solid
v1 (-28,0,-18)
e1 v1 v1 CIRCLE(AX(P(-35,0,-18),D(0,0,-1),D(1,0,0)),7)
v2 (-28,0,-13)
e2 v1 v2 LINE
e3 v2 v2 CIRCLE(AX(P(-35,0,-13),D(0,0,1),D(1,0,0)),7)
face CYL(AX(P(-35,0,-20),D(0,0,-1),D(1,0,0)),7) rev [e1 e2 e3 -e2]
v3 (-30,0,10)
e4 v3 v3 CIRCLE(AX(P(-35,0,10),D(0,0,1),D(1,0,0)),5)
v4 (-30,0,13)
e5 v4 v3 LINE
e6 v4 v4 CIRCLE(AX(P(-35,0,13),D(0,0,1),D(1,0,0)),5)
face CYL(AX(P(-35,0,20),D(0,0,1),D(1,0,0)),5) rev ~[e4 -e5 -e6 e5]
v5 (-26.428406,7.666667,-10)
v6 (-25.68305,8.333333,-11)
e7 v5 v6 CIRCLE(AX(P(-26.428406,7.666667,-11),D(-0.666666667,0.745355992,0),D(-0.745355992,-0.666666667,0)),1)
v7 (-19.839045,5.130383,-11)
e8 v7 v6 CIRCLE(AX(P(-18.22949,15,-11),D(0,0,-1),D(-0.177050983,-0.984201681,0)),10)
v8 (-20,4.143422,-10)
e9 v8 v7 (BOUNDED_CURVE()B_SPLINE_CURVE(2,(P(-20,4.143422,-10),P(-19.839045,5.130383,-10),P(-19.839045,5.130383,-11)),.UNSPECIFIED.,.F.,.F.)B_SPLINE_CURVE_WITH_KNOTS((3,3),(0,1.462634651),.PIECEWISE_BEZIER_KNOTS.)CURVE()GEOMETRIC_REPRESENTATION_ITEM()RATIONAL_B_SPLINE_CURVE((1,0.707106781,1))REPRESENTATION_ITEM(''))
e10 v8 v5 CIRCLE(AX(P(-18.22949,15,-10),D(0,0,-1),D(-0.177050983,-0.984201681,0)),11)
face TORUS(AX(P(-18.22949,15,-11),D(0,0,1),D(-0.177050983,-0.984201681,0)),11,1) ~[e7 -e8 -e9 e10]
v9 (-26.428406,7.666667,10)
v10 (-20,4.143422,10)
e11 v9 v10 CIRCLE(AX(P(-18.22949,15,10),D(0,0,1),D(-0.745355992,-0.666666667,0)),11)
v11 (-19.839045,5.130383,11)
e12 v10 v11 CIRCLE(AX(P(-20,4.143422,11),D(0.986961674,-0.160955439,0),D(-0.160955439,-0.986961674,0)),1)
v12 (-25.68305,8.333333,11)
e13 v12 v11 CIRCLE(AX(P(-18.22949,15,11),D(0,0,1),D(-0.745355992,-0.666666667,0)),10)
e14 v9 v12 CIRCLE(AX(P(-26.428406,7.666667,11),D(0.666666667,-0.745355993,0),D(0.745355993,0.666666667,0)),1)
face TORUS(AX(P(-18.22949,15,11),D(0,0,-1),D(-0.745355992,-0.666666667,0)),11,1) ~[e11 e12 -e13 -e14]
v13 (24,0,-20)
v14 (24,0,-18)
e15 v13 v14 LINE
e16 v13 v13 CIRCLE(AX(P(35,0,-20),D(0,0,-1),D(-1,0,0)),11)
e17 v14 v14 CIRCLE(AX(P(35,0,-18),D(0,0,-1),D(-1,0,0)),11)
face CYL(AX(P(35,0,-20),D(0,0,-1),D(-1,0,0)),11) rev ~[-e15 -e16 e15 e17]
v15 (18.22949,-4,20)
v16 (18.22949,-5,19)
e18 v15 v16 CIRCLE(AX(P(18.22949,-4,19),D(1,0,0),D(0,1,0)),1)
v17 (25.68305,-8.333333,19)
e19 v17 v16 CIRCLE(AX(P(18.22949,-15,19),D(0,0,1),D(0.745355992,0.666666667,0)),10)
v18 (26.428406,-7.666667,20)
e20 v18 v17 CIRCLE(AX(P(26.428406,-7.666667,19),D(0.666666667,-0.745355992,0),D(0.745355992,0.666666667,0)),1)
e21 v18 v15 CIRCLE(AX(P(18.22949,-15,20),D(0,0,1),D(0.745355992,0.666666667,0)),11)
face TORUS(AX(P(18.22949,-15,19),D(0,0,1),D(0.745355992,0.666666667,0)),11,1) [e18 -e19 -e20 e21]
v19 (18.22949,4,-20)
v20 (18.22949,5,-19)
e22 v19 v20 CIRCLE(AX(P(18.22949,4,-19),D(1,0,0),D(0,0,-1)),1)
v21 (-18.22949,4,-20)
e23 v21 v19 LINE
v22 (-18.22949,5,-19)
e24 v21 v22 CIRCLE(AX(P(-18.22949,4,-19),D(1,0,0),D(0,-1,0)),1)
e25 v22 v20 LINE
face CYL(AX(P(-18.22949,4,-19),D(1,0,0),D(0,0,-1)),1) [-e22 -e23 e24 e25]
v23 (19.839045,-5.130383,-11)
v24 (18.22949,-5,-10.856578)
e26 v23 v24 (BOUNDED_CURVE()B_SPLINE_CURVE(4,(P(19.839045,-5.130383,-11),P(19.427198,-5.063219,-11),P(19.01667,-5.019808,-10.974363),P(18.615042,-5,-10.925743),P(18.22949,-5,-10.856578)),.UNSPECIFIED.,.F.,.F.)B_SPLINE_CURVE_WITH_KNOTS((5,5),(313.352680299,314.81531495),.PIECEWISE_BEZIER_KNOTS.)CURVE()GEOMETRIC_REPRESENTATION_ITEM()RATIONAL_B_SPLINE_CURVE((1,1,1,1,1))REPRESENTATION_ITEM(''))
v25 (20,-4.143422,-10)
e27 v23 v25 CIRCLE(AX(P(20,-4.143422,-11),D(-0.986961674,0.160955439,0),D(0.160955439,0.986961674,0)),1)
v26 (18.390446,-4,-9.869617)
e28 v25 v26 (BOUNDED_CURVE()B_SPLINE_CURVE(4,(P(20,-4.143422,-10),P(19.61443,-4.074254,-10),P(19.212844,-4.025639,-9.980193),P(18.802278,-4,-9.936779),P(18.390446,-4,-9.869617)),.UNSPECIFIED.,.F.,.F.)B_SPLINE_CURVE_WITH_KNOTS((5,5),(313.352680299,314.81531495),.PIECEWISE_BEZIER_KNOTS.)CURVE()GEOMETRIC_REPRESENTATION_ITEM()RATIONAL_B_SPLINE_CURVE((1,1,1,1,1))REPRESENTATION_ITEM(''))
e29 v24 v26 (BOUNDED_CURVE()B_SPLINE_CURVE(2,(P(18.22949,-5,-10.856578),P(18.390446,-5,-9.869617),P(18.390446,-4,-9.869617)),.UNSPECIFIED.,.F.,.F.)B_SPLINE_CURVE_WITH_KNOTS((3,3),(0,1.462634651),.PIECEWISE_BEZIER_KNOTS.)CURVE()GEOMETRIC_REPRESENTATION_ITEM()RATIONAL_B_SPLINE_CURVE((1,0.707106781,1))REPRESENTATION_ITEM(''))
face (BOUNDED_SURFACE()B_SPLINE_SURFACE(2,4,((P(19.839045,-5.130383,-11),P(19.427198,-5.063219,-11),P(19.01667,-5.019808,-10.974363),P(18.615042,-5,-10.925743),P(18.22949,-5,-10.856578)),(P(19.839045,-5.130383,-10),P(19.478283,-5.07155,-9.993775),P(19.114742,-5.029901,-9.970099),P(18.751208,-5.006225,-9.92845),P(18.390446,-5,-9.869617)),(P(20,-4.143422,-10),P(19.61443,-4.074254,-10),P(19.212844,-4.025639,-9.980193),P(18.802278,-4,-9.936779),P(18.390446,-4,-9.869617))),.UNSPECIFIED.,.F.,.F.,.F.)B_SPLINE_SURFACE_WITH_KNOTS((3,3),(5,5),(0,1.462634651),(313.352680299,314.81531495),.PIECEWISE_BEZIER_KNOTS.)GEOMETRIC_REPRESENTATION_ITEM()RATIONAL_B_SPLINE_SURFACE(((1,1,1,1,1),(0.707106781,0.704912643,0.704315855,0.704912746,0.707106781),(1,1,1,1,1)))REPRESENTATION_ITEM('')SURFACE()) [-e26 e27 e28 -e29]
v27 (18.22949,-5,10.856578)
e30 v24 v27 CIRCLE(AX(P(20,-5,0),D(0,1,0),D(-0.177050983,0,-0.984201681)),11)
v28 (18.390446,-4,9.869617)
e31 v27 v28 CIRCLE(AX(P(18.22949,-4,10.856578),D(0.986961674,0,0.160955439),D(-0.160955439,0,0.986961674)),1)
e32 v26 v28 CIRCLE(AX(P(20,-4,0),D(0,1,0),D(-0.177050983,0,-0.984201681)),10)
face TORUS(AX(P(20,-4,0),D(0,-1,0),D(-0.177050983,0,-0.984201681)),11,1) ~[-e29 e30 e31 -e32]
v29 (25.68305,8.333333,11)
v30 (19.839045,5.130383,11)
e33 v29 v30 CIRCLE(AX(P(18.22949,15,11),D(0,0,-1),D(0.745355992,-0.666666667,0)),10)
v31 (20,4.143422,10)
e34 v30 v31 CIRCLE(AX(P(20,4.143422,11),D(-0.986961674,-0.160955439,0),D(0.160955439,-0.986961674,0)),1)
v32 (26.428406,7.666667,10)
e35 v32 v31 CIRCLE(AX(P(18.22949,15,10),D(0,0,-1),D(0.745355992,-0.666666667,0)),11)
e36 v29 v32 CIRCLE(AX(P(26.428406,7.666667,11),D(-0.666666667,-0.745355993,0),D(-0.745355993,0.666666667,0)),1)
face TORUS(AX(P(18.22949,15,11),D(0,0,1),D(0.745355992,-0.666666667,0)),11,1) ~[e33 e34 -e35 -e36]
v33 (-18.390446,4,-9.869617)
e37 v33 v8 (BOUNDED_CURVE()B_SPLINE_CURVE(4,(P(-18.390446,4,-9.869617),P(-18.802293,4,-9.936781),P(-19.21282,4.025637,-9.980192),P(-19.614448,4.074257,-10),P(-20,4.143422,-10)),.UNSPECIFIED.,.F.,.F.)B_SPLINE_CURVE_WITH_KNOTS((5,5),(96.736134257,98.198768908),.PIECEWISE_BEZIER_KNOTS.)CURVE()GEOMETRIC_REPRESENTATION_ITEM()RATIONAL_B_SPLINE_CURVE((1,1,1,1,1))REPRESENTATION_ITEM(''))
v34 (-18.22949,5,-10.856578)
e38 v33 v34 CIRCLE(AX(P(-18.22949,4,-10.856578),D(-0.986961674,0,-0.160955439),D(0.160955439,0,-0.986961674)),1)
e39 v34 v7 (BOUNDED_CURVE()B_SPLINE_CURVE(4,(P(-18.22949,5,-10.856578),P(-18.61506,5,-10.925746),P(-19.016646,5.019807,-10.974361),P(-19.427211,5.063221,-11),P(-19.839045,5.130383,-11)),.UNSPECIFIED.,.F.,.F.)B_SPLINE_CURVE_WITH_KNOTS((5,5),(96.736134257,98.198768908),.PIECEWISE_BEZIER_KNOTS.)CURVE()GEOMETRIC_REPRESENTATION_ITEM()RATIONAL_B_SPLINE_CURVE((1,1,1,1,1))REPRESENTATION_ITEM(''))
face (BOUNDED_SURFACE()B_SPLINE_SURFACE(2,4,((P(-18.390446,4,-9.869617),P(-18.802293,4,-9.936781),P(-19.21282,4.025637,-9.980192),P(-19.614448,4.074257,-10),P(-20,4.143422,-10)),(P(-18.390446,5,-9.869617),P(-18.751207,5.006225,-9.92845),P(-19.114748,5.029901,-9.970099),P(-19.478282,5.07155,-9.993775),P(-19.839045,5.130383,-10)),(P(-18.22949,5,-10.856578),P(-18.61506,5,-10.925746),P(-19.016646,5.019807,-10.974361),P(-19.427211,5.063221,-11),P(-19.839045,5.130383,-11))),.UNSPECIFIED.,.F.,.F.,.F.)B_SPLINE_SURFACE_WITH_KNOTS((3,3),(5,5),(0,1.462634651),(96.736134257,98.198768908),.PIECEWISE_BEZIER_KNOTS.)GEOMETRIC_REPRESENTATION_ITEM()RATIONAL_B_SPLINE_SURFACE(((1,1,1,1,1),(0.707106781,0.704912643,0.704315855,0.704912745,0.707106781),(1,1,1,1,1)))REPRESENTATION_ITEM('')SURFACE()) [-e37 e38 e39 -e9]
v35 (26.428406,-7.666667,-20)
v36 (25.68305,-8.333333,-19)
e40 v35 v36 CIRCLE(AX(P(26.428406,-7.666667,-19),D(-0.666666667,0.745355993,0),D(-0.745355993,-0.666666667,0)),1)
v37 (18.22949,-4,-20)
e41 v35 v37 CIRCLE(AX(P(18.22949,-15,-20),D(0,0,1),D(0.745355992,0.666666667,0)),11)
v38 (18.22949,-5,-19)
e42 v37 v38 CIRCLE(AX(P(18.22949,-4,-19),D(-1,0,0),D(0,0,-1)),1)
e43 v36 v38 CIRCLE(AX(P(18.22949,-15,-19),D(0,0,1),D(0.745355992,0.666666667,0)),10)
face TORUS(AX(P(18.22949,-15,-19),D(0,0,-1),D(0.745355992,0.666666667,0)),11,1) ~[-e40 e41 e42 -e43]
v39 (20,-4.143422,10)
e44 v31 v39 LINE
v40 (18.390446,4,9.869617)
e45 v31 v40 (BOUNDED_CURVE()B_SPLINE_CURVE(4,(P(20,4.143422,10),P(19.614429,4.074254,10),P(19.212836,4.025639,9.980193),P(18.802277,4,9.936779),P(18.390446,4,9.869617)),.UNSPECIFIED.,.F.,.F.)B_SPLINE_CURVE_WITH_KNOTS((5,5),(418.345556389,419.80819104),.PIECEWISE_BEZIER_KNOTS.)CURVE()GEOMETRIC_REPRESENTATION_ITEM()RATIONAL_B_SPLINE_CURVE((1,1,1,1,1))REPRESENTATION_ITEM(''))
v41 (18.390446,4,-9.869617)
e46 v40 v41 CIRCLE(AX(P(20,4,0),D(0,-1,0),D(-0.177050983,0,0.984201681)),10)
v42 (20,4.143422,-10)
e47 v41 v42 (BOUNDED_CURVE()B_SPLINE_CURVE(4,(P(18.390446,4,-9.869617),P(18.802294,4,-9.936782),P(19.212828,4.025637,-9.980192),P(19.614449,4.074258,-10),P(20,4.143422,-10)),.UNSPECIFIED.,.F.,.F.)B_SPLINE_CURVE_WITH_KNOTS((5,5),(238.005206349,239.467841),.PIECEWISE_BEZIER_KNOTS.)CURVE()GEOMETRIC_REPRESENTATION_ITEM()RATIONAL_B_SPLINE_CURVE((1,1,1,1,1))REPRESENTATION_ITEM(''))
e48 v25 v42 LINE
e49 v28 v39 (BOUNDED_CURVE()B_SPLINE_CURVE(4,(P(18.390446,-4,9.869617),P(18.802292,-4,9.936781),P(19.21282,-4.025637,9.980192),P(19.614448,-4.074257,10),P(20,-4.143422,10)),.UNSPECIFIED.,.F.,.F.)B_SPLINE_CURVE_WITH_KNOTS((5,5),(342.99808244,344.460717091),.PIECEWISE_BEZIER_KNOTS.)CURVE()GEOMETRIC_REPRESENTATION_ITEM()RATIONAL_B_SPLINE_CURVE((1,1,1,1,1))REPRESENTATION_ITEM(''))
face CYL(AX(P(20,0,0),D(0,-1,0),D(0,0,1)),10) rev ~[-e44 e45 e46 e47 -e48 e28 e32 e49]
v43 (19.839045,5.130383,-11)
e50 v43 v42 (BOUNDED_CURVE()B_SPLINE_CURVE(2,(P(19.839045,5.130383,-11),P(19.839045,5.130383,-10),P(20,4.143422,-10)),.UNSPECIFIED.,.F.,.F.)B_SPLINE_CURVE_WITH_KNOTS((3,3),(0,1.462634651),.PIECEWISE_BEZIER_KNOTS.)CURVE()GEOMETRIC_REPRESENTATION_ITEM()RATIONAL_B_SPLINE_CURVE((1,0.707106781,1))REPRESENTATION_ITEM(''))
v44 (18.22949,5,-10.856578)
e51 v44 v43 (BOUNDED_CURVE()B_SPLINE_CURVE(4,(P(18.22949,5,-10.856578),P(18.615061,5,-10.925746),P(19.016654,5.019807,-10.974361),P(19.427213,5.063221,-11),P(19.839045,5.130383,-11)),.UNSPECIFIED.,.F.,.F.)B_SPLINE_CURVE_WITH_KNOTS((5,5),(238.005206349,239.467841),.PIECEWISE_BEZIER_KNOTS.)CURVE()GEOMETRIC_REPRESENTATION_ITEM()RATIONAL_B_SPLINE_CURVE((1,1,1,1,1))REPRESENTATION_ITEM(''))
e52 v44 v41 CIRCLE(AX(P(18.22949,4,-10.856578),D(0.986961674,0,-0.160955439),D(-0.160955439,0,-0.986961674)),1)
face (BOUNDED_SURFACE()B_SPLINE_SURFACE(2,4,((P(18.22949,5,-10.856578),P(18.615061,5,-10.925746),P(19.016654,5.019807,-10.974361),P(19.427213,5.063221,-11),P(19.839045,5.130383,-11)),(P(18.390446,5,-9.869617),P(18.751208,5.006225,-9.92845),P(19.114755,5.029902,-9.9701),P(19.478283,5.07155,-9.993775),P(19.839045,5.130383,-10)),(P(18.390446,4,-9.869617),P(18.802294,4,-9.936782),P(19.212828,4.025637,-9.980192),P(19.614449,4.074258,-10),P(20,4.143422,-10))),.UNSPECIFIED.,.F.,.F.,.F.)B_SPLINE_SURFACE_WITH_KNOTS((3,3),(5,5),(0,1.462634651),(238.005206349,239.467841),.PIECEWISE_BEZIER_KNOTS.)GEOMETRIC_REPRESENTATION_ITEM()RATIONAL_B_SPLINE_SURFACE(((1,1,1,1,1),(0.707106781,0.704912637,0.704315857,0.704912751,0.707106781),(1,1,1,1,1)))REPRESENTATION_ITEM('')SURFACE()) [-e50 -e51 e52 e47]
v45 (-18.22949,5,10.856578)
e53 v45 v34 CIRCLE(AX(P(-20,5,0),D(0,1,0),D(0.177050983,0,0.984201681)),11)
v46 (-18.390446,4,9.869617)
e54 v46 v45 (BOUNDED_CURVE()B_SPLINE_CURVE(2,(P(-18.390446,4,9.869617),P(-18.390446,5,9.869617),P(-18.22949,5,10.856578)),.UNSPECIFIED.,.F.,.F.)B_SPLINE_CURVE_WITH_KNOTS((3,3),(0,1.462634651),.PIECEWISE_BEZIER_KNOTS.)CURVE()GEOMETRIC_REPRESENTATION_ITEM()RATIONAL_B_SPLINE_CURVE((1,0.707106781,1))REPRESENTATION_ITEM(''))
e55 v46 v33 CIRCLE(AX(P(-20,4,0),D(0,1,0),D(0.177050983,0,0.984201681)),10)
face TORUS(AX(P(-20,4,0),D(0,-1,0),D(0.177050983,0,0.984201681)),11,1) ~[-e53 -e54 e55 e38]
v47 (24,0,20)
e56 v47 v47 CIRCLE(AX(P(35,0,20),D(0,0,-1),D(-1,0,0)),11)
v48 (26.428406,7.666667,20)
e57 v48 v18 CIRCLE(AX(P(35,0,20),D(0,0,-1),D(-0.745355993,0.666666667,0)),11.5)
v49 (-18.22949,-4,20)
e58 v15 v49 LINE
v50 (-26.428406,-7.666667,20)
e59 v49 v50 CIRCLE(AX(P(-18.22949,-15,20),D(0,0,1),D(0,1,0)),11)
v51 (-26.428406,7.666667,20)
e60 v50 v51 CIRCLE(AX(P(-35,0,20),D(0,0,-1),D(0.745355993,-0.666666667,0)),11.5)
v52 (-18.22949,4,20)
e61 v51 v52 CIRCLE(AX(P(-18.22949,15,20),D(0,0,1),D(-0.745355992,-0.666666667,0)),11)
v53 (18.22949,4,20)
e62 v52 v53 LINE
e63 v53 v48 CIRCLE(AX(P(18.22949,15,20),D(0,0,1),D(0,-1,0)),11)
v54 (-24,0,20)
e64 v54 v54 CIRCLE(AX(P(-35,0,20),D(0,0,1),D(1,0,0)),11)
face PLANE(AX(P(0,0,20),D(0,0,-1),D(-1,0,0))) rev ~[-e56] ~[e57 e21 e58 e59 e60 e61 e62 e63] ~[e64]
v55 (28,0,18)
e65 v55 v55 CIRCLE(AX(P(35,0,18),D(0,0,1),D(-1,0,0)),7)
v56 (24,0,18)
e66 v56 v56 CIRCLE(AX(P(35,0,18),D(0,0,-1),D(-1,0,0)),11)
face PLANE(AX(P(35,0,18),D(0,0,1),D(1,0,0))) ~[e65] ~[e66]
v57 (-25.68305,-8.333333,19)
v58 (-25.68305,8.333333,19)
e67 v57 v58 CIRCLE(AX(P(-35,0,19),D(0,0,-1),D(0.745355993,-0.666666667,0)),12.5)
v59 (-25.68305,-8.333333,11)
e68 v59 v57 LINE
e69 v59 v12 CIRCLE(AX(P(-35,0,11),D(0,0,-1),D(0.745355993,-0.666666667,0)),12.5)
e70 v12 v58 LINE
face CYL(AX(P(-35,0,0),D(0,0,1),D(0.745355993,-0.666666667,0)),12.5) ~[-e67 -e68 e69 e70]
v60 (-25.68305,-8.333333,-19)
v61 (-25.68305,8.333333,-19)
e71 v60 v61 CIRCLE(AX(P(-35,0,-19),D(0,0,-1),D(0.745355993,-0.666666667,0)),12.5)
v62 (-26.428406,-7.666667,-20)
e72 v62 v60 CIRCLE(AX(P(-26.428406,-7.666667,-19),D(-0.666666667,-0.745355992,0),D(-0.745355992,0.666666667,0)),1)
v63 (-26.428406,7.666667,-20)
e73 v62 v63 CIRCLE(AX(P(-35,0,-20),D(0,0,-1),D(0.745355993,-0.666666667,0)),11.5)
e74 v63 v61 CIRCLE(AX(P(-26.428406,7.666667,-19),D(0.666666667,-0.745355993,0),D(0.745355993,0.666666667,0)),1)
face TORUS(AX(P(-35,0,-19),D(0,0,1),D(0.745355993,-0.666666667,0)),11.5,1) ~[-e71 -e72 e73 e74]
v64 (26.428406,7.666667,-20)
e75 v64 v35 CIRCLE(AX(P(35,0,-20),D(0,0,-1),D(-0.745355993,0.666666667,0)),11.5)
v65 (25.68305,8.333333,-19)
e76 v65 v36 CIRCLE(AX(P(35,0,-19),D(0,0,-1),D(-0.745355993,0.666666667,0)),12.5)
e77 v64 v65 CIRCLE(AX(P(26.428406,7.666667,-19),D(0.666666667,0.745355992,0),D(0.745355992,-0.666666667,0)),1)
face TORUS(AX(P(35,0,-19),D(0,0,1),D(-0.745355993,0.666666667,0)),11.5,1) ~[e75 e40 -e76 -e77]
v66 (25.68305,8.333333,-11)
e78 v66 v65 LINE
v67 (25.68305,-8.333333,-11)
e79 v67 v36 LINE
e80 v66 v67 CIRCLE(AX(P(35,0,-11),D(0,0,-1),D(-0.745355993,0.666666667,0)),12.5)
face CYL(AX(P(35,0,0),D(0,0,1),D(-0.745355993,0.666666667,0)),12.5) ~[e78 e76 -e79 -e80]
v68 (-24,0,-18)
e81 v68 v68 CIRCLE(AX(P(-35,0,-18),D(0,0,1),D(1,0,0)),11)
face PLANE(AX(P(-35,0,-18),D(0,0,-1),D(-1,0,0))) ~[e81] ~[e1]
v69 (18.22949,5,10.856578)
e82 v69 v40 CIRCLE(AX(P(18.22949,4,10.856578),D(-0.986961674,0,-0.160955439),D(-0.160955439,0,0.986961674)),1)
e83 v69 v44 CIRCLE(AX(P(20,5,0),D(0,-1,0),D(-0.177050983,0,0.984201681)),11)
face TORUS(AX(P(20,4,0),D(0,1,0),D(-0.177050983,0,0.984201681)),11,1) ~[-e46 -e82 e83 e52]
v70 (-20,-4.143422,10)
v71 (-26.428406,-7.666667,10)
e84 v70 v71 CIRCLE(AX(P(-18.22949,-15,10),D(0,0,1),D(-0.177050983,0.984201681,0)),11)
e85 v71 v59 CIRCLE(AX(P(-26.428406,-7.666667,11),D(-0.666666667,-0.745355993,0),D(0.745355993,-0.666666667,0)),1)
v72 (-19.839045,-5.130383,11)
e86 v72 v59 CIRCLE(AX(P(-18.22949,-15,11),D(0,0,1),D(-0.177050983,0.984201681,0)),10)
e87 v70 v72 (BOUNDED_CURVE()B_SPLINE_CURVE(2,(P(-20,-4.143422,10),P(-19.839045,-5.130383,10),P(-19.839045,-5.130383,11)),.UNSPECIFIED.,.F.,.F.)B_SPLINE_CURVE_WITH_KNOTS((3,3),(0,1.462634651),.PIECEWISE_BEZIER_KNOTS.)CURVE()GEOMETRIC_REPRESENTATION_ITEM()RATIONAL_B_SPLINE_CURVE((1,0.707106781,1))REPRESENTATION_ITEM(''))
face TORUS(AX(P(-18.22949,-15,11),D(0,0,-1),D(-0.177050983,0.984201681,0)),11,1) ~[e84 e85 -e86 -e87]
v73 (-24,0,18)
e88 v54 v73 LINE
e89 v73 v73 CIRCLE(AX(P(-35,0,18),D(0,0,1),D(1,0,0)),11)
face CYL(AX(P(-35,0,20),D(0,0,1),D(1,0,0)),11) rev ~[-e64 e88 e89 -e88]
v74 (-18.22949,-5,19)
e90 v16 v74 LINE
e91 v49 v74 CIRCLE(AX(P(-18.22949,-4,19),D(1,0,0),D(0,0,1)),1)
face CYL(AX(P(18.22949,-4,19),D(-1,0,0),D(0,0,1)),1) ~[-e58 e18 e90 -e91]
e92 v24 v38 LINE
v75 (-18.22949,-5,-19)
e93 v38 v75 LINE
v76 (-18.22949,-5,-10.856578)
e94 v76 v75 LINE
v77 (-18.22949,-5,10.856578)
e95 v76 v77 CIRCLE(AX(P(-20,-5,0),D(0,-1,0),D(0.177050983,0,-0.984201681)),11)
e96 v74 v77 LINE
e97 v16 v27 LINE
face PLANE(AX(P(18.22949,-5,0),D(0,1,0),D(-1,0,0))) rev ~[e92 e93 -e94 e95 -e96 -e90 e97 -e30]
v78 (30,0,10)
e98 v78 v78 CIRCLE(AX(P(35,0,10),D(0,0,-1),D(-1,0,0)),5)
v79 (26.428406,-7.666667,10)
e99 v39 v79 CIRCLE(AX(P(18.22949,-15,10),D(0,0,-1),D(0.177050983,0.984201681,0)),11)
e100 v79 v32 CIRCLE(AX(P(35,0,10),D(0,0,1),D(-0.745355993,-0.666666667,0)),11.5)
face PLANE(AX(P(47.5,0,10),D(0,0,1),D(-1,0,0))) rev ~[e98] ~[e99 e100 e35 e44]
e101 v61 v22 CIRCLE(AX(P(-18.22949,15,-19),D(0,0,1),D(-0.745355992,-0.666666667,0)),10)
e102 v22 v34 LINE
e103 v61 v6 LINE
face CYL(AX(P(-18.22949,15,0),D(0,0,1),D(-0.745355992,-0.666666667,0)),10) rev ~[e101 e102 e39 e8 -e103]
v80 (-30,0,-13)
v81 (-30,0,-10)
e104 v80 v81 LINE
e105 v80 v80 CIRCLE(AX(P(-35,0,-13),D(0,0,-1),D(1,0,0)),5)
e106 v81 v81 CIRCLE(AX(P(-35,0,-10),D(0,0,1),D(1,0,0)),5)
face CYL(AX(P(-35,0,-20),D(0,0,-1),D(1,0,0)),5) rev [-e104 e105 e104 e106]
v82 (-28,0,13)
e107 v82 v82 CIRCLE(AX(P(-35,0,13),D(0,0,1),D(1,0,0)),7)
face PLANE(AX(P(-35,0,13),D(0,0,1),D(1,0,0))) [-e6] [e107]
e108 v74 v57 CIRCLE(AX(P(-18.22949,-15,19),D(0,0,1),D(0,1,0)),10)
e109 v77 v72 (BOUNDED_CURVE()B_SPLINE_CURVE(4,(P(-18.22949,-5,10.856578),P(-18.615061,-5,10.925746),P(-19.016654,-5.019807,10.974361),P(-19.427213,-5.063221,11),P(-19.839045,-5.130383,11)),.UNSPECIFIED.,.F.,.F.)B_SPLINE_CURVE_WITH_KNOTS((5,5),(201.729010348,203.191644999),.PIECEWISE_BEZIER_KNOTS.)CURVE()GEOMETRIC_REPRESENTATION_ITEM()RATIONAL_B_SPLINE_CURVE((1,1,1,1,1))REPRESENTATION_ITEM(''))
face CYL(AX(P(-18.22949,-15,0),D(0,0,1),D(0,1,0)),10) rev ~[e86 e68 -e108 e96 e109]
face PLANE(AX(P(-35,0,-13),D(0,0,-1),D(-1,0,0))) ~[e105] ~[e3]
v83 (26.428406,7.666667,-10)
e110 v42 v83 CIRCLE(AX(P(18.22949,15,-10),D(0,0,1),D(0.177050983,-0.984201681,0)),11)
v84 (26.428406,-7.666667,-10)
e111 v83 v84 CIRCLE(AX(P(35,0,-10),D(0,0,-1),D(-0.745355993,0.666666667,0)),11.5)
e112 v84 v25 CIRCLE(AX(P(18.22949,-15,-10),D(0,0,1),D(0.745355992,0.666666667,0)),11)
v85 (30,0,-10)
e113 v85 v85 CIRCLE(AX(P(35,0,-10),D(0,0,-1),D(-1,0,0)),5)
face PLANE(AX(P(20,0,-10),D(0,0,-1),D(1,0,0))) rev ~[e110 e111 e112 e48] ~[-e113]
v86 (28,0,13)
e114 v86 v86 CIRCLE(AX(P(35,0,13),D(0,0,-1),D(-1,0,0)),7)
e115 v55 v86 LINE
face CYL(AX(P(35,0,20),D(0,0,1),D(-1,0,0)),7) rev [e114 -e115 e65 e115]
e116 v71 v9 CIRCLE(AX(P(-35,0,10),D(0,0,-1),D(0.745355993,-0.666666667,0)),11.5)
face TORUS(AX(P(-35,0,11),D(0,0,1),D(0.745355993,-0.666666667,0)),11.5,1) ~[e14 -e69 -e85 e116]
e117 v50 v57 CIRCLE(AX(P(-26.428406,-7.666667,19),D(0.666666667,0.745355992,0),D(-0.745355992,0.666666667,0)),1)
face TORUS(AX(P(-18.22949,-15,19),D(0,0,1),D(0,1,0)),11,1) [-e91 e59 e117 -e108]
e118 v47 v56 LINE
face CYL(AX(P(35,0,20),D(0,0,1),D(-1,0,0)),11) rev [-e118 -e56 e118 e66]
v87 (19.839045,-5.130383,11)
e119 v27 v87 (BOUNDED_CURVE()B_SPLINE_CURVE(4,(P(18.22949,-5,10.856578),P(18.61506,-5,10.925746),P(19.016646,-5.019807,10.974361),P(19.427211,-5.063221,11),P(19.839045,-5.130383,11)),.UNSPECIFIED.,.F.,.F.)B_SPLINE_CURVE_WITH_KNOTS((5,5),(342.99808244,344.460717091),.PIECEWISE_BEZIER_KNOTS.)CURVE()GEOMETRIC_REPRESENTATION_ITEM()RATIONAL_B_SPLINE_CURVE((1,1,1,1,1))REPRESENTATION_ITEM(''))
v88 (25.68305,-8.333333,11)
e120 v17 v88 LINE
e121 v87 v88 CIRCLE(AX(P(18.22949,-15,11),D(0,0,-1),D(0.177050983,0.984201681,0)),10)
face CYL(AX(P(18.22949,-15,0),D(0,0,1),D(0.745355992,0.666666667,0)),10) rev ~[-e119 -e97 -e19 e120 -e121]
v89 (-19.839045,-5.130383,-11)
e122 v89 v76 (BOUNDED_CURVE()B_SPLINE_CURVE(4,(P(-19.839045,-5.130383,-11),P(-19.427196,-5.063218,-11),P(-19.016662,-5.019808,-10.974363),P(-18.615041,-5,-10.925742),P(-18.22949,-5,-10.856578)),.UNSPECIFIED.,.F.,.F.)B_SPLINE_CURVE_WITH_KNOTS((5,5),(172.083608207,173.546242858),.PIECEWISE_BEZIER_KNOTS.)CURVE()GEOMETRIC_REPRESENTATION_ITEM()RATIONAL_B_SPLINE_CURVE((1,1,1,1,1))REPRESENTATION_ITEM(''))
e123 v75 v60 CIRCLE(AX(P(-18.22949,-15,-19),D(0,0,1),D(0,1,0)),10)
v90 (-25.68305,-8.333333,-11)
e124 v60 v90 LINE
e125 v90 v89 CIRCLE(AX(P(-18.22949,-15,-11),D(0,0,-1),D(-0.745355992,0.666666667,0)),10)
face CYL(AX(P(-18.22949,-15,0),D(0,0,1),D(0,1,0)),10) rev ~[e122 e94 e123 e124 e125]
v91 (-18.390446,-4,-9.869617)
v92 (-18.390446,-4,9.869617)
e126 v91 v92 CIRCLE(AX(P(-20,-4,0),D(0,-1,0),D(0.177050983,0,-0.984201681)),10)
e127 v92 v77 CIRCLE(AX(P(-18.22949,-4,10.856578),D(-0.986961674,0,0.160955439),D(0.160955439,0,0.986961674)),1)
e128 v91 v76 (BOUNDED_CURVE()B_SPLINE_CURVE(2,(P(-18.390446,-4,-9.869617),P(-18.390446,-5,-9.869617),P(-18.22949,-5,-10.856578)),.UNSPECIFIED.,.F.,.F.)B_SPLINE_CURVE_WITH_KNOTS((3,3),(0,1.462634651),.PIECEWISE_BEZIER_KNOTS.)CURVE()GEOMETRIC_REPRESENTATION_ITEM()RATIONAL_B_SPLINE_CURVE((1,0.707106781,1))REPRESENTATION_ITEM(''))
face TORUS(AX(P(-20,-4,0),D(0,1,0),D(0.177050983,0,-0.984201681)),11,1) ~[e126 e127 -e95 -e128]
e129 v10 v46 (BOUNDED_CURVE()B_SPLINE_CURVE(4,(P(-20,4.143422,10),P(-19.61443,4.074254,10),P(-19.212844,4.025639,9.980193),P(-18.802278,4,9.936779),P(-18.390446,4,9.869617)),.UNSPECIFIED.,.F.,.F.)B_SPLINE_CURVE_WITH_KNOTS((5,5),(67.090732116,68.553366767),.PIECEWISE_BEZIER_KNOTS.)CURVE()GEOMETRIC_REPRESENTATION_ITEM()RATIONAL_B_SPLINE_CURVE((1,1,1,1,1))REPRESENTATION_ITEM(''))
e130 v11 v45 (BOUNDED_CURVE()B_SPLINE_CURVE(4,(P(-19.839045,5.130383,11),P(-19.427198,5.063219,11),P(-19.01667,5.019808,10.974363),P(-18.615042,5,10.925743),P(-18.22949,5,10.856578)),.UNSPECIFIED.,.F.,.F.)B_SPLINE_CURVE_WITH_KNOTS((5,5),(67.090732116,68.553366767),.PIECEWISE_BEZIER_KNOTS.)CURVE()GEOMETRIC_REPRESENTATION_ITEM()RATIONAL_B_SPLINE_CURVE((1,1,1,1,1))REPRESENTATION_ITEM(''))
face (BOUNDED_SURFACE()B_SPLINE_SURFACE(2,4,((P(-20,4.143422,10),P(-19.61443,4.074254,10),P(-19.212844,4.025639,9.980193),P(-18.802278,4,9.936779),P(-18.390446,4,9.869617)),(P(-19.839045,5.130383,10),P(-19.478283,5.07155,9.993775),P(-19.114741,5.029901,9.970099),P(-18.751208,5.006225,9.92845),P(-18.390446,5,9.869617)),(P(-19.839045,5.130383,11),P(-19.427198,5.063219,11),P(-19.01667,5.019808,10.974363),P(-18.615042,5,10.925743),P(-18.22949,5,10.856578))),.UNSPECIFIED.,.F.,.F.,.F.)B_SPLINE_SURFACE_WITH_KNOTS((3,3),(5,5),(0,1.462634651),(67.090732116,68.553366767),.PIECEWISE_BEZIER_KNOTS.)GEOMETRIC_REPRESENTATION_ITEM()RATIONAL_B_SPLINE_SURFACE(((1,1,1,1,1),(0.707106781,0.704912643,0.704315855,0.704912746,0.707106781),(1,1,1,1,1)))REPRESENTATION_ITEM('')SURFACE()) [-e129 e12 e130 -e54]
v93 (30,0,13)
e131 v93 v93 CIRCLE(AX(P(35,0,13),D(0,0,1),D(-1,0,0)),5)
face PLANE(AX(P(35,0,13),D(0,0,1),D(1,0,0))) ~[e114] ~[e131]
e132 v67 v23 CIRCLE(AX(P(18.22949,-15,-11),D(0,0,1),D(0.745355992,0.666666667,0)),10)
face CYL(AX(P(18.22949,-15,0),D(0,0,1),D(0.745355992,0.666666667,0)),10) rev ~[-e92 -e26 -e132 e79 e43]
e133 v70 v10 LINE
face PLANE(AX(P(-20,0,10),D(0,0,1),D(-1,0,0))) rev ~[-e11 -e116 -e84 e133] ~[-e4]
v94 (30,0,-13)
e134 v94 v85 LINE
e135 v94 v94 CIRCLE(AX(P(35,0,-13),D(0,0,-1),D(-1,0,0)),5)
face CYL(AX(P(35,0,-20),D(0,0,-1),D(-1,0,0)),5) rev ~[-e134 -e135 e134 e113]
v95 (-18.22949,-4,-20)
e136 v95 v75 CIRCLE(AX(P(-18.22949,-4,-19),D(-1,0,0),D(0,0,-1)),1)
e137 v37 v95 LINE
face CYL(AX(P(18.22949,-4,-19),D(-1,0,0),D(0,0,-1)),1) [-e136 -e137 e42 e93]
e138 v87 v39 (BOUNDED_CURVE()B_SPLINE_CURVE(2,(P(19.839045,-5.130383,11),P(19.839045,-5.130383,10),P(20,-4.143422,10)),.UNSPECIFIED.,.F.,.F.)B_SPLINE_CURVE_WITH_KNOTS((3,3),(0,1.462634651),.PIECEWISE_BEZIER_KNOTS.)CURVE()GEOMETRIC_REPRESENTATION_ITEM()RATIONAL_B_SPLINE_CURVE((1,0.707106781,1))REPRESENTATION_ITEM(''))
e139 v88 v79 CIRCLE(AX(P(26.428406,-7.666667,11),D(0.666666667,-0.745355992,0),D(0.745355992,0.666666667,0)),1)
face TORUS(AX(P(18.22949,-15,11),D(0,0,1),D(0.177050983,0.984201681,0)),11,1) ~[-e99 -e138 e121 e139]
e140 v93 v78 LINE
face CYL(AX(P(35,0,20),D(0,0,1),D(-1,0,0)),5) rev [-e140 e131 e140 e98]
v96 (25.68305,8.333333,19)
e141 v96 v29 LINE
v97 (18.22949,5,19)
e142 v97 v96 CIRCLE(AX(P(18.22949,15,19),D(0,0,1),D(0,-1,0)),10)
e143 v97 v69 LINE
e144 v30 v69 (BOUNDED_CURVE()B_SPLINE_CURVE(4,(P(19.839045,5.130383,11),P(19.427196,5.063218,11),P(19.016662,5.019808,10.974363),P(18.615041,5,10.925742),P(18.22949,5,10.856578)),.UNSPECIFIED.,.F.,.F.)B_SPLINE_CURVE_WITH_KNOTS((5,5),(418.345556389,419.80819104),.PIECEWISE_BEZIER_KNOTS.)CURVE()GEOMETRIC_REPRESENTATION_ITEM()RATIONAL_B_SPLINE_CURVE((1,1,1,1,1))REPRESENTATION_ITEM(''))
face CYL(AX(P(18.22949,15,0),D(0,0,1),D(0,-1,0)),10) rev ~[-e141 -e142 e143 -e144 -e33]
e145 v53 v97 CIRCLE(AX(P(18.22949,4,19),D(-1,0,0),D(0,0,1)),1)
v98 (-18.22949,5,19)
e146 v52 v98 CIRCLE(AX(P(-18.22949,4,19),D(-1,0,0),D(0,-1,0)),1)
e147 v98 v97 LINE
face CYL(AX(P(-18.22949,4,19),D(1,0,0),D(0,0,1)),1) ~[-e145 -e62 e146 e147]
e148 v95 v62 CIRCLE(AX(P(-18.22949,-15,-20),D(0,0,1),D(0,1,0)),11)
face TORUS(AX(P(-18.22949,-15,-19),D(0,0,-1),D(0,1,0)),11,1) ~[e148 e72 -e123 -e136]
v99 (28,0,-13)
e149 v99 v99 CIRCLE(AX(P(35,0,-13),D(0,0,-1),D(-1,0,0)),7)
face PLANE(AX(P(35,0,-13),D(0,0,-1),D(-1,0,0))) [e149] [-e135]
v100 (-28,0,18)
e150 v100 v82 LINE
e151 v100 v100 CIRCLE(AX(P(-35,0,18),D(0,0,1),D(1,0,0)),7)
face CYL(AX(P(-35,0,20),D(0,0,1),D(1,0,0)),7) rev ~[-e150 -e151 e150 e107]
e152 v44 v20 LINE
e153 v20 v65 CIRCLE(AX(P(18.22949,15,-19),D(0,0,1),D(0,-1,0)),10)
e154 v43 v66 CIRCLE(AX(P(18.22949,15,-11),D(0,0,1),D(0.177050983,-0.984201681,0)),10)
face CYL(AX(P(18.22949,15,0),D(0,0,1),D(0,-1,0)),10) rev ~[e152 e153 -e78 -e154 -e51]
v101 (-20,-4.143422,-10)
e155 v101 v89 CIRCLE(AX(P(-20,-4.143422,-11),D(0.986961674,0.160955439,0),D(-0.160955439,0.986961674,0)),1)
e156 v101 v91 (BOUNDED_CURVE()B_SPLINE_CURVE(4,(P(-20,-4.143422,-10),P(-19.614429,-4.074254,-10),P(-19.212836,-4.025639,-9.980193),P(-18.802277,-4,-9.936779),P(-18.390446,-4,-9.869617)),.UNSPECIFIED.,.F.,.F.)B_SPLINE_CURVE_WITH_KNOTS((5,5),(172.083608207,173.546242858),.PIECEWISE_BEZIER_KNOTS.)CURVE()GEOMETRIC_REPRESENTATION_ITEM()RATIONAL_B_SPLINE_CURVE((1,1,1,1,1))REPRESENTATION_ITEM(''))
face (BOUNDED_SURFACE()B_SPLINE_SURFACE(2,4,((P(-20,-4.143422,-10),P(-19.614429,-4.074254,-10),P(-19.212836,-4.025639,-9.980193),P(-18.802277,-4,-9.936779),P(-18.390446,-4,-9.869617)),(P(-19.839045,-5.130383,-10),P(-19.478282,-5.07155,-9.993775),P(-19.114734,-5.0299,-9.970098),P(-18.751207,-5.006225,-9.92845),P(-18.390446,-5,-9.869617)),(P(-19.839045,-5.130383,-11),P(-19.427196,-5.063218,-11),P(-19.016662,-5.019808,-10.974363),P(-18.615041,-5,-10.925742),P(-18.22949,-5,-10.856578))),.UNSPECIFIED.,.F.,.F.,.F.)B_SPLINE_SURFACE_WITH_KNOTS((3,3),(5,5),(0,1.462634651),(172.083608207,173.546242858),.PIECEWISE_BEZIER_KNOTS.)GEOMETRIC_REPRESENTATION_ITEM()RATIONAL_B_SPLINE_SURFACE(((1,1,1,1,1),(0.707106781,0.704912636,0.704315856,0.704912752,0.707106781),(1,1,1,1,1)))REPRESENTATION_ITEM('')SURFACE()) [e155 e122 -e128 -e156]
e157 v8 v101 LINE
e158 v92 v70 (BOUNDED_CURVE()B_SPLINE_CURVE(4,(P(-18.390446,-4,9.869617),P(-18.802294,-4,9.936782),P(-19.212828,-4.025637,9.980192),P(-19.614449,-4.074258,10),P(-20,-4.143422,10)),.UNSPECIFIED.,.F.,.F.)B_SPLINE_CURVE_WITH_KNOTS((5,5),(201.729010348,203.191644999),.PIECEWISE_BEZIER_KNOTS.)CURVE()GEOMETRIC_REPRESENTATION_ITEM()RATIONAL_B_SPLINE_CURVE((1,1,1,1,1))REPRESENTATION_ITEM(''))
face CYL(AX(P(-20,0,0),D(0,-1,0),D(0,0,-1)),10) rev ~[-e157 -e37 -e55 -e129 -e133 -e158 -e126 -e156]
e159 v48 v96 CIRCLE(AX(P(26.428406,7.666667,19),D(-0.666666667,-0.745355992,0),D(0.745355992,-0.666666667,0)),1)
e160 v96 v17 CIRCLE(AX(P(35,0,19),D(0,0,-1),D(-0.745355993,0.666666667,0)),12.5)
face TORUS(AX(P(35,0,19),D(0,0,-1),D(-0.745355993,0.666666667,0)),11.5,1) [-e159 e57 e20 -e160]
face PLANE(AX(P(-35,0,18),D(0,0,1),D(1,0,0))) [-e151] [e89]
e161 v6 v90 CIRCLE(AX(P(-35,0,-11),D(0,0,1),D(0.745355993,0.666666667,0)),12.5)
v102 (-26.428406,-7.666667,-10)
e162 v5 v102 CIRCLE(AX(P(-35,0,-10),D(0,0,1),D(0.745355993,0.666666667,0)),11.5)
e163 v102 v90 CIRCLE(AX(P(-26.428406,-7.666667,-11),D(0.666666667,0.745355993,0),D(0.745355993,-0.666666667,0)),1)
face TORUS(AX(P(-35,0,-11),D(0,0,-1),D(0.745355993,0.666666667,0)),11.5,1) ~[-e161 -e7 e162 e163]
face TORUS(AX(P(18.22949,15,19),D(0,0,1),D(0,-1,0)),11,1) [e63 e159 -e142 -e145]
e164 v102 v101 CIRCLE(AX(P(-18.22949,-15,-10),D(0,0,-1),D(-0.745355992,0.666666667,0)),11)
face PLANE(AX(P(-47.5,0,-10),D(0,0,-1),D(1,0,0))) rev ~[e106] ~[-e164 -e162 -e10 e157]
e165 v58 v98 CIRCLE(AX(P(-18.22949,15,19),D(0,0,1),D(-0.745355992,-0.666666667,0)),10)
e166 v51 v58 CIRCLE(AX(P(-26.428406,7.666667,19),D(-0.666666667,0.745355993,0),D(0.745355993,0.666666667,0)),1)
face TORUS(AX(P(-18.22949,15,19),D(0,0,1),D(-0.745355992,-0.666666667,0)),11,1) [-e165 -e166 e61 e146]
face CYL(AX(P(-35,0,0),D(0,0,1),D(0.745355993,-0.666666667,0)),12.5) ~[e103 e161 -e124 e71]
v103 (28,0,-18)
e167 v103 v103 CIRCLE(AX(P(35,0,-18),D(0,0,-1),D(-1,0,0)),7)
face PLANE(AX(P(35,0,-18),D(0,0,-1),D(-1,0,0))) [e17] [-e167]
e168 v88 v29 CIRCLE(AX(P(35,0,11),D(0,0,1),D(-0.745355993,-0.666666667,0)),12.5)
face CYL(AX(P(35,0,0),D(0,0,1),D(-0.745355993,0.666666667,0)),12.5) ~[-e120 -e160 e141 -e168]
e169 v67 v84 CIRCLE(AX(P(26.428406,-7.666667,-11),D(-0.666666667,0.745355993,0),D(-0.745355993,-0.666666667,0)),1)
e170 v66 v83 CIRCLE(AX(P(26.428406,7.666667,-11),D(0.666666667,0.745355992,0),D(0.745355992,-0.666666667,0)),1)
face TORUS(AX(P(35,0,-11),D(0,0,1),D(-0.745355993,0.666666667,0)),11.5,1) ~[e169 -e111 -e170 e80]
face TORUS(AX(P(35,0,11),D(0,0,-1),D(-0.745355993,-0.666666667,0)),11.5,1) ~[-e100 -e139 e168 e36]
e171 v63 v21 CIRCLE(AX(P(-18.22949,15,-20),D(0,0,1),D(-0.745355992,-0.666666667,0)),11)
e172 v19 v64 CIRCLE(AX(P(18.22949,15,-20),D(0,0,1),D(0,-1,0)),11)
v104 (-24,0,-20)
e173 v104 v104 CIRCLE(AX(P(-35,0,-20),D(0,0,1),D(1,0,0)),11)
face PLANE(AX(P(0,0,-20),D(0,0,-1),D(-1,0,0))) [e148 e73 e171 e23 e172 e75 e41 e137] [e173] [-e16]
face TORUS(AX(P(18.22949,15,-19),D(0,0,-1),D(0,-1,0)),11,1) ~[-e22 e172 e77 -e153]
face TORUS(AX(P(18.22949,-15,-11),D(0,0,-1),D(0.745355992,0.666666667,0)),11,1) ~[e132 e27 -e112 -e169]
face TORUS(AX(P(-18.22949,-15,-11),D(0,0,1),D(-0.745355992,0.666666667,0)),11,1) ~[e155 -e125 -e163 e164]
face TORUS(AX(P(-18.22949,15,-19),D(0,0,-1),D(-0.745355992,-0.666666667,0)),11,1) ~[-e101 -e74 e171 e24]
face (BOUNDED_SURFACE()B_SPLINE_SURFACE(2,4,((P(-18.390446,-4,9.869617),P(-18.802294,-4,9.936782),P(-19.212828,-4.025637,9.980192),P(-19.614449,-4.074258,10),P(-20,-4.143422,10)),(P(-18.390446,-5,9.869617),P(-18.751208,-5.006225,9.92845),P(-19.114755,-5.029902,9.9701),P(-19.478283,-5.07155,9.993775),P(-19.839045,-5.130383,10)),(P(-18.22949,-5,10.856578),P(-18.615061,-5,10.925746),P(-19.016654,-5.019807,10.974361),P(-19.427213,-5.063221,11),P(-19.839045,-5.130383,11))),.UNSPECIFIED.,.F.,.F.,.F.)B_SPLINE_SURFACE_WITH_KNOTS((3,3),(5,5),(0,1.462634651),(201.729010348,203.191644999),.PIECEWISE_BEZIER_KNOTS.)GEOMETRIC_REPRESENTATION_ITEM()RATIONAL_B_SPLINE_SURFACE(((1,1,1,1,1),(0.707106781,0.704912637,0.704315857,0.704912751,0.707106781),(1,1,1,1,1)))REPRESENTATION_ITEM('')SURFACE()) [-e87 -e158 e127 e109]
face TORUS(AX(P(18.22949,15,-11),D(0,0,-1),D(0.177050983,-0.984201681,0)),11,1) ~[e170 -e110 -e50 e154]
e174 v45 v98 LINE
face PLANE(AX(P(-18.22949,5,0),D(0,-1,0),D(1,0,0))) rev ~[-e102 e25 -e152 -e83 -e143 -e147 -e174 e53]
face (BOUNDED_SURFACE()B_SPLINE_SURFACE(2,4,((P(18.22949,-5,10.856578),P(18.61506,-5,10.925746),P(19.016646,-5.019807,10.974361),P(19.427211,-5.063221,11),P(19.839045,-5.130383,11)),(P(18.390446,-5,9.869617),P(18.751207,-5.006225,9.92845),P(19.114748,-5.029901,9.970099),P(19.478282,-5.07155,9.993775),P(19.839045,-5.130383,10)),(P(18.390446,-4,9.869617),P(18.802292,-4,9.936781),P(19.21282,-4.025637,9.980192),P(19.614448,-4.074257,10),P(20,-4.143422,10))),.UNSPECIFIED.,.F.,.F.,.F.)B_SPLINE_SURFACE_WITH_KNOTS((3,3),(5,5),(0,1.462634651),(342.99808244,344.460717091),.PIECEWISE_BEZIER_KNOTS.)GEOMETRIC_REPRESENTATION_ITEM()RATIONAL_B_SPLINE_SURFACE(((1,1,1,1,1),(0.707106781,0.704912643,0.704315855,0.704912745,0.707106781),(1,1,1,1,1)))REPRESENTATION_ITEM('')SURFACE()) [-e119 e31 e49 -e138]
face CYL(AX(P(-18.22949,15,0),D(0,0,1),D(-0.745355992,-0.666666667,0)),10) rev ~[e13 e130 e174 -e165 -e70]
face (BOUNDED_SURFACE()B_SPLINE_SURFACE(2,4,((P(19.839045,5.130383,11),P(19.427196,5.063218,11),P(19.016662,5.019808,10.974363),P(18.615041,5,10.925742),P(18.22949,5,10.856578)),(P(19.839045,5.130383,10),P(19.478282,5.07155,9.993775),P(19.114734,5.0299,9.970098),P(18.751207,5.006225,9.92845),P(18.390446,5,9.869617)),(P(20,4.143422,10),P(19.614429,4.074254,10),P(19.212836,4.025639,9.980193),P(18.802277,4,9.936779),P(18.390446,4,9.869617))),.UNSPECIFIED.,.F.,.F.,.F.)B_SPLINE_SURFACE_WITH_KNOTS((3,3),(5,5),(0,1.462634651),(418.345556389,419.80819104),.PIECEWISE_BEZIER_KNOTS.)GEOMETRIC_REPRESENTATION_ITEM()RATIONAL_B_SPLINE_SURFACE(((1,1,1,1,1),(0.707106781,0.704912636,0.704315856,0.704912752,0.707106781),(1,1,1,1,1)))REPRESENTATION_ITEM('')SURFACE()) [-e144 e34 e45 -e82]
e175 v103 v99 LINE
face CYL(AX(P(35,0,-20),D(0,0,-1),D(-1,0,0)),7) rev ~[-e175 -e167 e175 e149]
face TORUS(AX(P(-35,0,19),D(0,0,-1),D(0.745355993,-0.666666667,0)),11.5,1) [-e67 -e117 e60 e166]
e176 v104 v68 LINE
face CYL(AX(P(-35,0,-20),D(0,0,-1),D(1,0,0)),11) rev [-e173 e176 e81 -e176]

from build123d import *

# Parameters (mm, degrees)
BOSS_EXTRUDE1_DEPTH     = 20
CUT_EXTRUDE1_DEPTH      = 13.5
CUT_EXTRUDE1_DEPTH_BACK = 13.5
SKETCH3_R               = 5
CUT_EXTRUDE2_DEPTH      = 10
SKETCH4_R               = 7
CUT_EXTRUDE3_DEPTH      = 7
SKETCH5_R               = 11
CUT_EXTRUDE4_DEPTH      = 2
MIRROR2_COPY_1_SKETCH_R = 5
MIRROR2_COPY_1_DEPTH    = 10
MIRROR2_COPY_2_SKETCH_R = 7
MIRROR2_COPY_2_DEPTH    = 7
MIRROR2_COPY_3_SKETCH_R = 11
MIRROR2_COPY_3_DEPTH    = 2
FILLET1_R               = 1


with BuildPart() as part:
    # Sketch1 → Boss-Extrude1 (new body, symmetric)
    with BuildSketch(Plane.XY):
        with BuildLine():
            Line((-18.229490169, 5), (18.229490169, 5))
            ThreePointArc((18.229490169, 5), (22.311973073, 5.871290708), (25.683050094, 8.333333333))
            ThreePointArc((25.683050094, 8.333333333), (47.5, 0), (25.683050094, -8.333333333))
            ThreePointArc((25.683050094, -8.333333333), (22.311973073, -5.871290708), (18.229490169, -5))
            Line((18.229490169, -5), (-18.229490169, -5))
            ThreePointArc((-18.229490169, -5), (-22.311973073, -5.871290708), (-25.683050094, -8.333333333))
            ThreePointArc((-25.683050094, -8.333333333), (-47.5, 0), (-25.683050094, 8.333333333))
            ThreePointArc((-25.683050094, 8.333333333), (-22.311973073, 5.871290708), (-18.229490169, 5))
        make_face()
    extrude(amount=BOSS_EXTRUDE1_DEPTH, both=True)

    # Sketch2 → Cut-Extrude1 (cut, two sides)
    with BuildSketch(Plane(origin=(0, 0, 0), x_dir=(1, 0, 0), z_dir=(0, 1, 0))) as cut_extrude1_sk:
        with BuildLine():
            Line((-47.5, 10), (-20, 10))
            ThreePointArc((-20, 10), (-10, 0), (-20, -10))
            Line((-20, -10), (-47.5, -10))
            Line((-47.5, -10), (-47.5, 10))
        make_face()
        with BuildLine():
            Line((47.5, -10), (20, -10))
            ThreePointArc((20, -10), (10, 0), (20, 10))
            Line((20, 10), (47.5, 10))
            Line((47.5, 10), (47.5, -10))
        make_face()
    extrude(amount=CUT_EXTRUDE1_DEPTH, mode=Mode.SUBTRACT)
    extrude(cut_extrude1_sk.sketch, amount=-CUT_EXTRUDE1_DEPTH_BACK, mode=Mode.SUBTRACT)

    # Sketch3 → Cut-Extrude2 (cut)
    with BuildSketch(Plane.XY.offset(20)):
        with Locations((-35, 0)):
            Circle(SKETCH3_R)
    cut_extrude2 = extrude(amount=-CUT_EXTRUDE2_DEPTH, mode=Mode.SUBTRACT)

    # Sketch4 → Cut-Extrude3 (cut)
    with BuildSketch(Plane.XY.offset(20)):
        with Locations((-35, 0)):
            Circle(SKETCH4_R)
    cut_extrude3 = extrude(amount=-CUT_EXTRUDE3_DEPTH, mode=Mode.SUBTRACT)

    # Sketch5 → Cut-Extrude4 (cut)
    with BuildSketch(Plane.XY.offset(20)):
        with Locations((-35, 0)):
            Circle(SKETCH5_R)
    cut_extrude4 = extrude(amount=-CUT_EXTRUDE4_DEPTH, mode=Mode.SUBTRACT)

    # Mirror1: Cut-Extrude2, Cut-Extrude3, Cut-Extrude4 across plane
    add(cut_extrude2.mirror(Plane(origin=(0, 0, 0), x_dir=(0, 0, 1), z_dir=(1, 0, 0))), mode=Mode.SUBTRACT)
    add(cut_extrude3.mirror(Plane(origin=(0, 0, 0), x_dir=(0, 0, 1), z_dir=(1, 0, 0))), mode=Mode.SUBTRACT)
    add(cut_extrude4.mirror(Plane(origin=(0, 0, 0), x_dir=(0, 0, 1), z_dir=(1, 0, 0))), mode=Mode.SUBTRACT)

    # Mirror2: Cut-Extrude2, Cut-Extrude3, Cut-Extrude4 across plane
    add(cut_extrude2.mirror(Plane.XY), mode=Mode.SUBTRACT)
    add(cut_extrude3.mirror(Plane.XY), mode=Mode.SUBTRACT)
    add(cut_extrude4.mirror(Plane.XY), mode=Mode.SUBTRACT)

    # Mirror2 copy 1 sketch → Mirror2 copy 1 (cut)
    with BuildSketch(Plane(origin=(0, 0, -20), x_dir=(-1, 0, 0), z_dir=(0, 0, -1))):
        with Locations((-35, 0)):
            Circle(MIRROR2_COPY_1_SKETCH_R)
    extrude(amount=-MIRROR2_COPY_1_DEPTH, mode=Mode.SUBTRACT)

    # Mirror2 copy 2 sketch → Mirror2 copy 2 (cut)
    with BuildSketch(Plane(origin=(0, 0, -20), x_dir=(-1, 0, 0), z_dir=(0, 0, -1))):
        with Locations((-35, 0)):
            Circle(MIRROR2_COPY_2_SKETCH_R)
    extrude(amount=-MIRROR2_COPY_2_DEPTH, mode=Mode.SUBTRACT)

    # Mirror2 copy 3 sketch → Mirror2 copy 3 (cut)
    with BuildSketch(Plane(origin=(0, 0, -20), x_dir=(-1, 0, 0), z_dir=(0, 0, -1))):
        with Locations((-35, 0)):
            Circle(MIRROR2_COPY_3_SKETCH_R)
    extrude(amount=-MIRROR2_COPY_3_DEPTH, mode=Mode.SUBTRACT)

    # Fillet1
    fillet1_edges = [part.edges().sort_by_distance(p)[0] for p in [
        (22.311973073, -5.871290708, 20),
        (0, -5, -20),
        (-22.311973073, -5.871290708, -20),
        (47.5, 0, 20),
        (22.311973073, 5.871290708, 20),
        (0, 5, 20),
        (-22.311973073, 5.871290708, 20),
        (-47.5, 0, 20),
        (-47.5, 0, 10),
        (-47.5, 0, -10),
        (-19.114745084, 5.039260884, 9.960739116),
        (-19.114745084, 5.039260884, -9.960739116),
        (-19.114745084, -5.039260884, 9.960739116),
        (-10, -5, 0),
        (-19.114745084, -5.039260884, -9.960739116),
        (-10, 5, 0),
        (-23.107151274, 6.270256467, -10),
        (-23.107151274, -6.270256467, -10),
        (-23.107151274, -6.270256467, 10),
        (-23.107151274, 6.270256467, 10),
        (-22.311973073, -5.871290708, 20),
        (10, 5, 0),
        (23.107151274, 6.270256467, 10),
        (23.107151274, 6.270256467, -10),
        (47.5, 0, -10),
        (23.107151274, -6.270256467, -10),
        (23.107151274, -6.270256467, 10),
        (47.5, 0, 10),
        (0, -5, 20),
        (19.114745084, -5.039260884, -9.960739116),
        (10, -5, 0),
        (19.114745084, -5.039260884, 9.960739116),
        (19.114745084, 5.039260884, 9.960739116),
        (19.114745084, 5.039260884, -9.960739116),
        (-47.5, 0, -20),
        (-22.311973073, 5.871290708, -20),
        (0, 5, -20),
        (22.311973073, 5.871290708, -20),
        (47.5, 0, -20),
        (22.311973073, -5.871290708, -20),
    ]]
    fillet(fillet1_edges, radius=FILLET1_R)


solid = part.part
